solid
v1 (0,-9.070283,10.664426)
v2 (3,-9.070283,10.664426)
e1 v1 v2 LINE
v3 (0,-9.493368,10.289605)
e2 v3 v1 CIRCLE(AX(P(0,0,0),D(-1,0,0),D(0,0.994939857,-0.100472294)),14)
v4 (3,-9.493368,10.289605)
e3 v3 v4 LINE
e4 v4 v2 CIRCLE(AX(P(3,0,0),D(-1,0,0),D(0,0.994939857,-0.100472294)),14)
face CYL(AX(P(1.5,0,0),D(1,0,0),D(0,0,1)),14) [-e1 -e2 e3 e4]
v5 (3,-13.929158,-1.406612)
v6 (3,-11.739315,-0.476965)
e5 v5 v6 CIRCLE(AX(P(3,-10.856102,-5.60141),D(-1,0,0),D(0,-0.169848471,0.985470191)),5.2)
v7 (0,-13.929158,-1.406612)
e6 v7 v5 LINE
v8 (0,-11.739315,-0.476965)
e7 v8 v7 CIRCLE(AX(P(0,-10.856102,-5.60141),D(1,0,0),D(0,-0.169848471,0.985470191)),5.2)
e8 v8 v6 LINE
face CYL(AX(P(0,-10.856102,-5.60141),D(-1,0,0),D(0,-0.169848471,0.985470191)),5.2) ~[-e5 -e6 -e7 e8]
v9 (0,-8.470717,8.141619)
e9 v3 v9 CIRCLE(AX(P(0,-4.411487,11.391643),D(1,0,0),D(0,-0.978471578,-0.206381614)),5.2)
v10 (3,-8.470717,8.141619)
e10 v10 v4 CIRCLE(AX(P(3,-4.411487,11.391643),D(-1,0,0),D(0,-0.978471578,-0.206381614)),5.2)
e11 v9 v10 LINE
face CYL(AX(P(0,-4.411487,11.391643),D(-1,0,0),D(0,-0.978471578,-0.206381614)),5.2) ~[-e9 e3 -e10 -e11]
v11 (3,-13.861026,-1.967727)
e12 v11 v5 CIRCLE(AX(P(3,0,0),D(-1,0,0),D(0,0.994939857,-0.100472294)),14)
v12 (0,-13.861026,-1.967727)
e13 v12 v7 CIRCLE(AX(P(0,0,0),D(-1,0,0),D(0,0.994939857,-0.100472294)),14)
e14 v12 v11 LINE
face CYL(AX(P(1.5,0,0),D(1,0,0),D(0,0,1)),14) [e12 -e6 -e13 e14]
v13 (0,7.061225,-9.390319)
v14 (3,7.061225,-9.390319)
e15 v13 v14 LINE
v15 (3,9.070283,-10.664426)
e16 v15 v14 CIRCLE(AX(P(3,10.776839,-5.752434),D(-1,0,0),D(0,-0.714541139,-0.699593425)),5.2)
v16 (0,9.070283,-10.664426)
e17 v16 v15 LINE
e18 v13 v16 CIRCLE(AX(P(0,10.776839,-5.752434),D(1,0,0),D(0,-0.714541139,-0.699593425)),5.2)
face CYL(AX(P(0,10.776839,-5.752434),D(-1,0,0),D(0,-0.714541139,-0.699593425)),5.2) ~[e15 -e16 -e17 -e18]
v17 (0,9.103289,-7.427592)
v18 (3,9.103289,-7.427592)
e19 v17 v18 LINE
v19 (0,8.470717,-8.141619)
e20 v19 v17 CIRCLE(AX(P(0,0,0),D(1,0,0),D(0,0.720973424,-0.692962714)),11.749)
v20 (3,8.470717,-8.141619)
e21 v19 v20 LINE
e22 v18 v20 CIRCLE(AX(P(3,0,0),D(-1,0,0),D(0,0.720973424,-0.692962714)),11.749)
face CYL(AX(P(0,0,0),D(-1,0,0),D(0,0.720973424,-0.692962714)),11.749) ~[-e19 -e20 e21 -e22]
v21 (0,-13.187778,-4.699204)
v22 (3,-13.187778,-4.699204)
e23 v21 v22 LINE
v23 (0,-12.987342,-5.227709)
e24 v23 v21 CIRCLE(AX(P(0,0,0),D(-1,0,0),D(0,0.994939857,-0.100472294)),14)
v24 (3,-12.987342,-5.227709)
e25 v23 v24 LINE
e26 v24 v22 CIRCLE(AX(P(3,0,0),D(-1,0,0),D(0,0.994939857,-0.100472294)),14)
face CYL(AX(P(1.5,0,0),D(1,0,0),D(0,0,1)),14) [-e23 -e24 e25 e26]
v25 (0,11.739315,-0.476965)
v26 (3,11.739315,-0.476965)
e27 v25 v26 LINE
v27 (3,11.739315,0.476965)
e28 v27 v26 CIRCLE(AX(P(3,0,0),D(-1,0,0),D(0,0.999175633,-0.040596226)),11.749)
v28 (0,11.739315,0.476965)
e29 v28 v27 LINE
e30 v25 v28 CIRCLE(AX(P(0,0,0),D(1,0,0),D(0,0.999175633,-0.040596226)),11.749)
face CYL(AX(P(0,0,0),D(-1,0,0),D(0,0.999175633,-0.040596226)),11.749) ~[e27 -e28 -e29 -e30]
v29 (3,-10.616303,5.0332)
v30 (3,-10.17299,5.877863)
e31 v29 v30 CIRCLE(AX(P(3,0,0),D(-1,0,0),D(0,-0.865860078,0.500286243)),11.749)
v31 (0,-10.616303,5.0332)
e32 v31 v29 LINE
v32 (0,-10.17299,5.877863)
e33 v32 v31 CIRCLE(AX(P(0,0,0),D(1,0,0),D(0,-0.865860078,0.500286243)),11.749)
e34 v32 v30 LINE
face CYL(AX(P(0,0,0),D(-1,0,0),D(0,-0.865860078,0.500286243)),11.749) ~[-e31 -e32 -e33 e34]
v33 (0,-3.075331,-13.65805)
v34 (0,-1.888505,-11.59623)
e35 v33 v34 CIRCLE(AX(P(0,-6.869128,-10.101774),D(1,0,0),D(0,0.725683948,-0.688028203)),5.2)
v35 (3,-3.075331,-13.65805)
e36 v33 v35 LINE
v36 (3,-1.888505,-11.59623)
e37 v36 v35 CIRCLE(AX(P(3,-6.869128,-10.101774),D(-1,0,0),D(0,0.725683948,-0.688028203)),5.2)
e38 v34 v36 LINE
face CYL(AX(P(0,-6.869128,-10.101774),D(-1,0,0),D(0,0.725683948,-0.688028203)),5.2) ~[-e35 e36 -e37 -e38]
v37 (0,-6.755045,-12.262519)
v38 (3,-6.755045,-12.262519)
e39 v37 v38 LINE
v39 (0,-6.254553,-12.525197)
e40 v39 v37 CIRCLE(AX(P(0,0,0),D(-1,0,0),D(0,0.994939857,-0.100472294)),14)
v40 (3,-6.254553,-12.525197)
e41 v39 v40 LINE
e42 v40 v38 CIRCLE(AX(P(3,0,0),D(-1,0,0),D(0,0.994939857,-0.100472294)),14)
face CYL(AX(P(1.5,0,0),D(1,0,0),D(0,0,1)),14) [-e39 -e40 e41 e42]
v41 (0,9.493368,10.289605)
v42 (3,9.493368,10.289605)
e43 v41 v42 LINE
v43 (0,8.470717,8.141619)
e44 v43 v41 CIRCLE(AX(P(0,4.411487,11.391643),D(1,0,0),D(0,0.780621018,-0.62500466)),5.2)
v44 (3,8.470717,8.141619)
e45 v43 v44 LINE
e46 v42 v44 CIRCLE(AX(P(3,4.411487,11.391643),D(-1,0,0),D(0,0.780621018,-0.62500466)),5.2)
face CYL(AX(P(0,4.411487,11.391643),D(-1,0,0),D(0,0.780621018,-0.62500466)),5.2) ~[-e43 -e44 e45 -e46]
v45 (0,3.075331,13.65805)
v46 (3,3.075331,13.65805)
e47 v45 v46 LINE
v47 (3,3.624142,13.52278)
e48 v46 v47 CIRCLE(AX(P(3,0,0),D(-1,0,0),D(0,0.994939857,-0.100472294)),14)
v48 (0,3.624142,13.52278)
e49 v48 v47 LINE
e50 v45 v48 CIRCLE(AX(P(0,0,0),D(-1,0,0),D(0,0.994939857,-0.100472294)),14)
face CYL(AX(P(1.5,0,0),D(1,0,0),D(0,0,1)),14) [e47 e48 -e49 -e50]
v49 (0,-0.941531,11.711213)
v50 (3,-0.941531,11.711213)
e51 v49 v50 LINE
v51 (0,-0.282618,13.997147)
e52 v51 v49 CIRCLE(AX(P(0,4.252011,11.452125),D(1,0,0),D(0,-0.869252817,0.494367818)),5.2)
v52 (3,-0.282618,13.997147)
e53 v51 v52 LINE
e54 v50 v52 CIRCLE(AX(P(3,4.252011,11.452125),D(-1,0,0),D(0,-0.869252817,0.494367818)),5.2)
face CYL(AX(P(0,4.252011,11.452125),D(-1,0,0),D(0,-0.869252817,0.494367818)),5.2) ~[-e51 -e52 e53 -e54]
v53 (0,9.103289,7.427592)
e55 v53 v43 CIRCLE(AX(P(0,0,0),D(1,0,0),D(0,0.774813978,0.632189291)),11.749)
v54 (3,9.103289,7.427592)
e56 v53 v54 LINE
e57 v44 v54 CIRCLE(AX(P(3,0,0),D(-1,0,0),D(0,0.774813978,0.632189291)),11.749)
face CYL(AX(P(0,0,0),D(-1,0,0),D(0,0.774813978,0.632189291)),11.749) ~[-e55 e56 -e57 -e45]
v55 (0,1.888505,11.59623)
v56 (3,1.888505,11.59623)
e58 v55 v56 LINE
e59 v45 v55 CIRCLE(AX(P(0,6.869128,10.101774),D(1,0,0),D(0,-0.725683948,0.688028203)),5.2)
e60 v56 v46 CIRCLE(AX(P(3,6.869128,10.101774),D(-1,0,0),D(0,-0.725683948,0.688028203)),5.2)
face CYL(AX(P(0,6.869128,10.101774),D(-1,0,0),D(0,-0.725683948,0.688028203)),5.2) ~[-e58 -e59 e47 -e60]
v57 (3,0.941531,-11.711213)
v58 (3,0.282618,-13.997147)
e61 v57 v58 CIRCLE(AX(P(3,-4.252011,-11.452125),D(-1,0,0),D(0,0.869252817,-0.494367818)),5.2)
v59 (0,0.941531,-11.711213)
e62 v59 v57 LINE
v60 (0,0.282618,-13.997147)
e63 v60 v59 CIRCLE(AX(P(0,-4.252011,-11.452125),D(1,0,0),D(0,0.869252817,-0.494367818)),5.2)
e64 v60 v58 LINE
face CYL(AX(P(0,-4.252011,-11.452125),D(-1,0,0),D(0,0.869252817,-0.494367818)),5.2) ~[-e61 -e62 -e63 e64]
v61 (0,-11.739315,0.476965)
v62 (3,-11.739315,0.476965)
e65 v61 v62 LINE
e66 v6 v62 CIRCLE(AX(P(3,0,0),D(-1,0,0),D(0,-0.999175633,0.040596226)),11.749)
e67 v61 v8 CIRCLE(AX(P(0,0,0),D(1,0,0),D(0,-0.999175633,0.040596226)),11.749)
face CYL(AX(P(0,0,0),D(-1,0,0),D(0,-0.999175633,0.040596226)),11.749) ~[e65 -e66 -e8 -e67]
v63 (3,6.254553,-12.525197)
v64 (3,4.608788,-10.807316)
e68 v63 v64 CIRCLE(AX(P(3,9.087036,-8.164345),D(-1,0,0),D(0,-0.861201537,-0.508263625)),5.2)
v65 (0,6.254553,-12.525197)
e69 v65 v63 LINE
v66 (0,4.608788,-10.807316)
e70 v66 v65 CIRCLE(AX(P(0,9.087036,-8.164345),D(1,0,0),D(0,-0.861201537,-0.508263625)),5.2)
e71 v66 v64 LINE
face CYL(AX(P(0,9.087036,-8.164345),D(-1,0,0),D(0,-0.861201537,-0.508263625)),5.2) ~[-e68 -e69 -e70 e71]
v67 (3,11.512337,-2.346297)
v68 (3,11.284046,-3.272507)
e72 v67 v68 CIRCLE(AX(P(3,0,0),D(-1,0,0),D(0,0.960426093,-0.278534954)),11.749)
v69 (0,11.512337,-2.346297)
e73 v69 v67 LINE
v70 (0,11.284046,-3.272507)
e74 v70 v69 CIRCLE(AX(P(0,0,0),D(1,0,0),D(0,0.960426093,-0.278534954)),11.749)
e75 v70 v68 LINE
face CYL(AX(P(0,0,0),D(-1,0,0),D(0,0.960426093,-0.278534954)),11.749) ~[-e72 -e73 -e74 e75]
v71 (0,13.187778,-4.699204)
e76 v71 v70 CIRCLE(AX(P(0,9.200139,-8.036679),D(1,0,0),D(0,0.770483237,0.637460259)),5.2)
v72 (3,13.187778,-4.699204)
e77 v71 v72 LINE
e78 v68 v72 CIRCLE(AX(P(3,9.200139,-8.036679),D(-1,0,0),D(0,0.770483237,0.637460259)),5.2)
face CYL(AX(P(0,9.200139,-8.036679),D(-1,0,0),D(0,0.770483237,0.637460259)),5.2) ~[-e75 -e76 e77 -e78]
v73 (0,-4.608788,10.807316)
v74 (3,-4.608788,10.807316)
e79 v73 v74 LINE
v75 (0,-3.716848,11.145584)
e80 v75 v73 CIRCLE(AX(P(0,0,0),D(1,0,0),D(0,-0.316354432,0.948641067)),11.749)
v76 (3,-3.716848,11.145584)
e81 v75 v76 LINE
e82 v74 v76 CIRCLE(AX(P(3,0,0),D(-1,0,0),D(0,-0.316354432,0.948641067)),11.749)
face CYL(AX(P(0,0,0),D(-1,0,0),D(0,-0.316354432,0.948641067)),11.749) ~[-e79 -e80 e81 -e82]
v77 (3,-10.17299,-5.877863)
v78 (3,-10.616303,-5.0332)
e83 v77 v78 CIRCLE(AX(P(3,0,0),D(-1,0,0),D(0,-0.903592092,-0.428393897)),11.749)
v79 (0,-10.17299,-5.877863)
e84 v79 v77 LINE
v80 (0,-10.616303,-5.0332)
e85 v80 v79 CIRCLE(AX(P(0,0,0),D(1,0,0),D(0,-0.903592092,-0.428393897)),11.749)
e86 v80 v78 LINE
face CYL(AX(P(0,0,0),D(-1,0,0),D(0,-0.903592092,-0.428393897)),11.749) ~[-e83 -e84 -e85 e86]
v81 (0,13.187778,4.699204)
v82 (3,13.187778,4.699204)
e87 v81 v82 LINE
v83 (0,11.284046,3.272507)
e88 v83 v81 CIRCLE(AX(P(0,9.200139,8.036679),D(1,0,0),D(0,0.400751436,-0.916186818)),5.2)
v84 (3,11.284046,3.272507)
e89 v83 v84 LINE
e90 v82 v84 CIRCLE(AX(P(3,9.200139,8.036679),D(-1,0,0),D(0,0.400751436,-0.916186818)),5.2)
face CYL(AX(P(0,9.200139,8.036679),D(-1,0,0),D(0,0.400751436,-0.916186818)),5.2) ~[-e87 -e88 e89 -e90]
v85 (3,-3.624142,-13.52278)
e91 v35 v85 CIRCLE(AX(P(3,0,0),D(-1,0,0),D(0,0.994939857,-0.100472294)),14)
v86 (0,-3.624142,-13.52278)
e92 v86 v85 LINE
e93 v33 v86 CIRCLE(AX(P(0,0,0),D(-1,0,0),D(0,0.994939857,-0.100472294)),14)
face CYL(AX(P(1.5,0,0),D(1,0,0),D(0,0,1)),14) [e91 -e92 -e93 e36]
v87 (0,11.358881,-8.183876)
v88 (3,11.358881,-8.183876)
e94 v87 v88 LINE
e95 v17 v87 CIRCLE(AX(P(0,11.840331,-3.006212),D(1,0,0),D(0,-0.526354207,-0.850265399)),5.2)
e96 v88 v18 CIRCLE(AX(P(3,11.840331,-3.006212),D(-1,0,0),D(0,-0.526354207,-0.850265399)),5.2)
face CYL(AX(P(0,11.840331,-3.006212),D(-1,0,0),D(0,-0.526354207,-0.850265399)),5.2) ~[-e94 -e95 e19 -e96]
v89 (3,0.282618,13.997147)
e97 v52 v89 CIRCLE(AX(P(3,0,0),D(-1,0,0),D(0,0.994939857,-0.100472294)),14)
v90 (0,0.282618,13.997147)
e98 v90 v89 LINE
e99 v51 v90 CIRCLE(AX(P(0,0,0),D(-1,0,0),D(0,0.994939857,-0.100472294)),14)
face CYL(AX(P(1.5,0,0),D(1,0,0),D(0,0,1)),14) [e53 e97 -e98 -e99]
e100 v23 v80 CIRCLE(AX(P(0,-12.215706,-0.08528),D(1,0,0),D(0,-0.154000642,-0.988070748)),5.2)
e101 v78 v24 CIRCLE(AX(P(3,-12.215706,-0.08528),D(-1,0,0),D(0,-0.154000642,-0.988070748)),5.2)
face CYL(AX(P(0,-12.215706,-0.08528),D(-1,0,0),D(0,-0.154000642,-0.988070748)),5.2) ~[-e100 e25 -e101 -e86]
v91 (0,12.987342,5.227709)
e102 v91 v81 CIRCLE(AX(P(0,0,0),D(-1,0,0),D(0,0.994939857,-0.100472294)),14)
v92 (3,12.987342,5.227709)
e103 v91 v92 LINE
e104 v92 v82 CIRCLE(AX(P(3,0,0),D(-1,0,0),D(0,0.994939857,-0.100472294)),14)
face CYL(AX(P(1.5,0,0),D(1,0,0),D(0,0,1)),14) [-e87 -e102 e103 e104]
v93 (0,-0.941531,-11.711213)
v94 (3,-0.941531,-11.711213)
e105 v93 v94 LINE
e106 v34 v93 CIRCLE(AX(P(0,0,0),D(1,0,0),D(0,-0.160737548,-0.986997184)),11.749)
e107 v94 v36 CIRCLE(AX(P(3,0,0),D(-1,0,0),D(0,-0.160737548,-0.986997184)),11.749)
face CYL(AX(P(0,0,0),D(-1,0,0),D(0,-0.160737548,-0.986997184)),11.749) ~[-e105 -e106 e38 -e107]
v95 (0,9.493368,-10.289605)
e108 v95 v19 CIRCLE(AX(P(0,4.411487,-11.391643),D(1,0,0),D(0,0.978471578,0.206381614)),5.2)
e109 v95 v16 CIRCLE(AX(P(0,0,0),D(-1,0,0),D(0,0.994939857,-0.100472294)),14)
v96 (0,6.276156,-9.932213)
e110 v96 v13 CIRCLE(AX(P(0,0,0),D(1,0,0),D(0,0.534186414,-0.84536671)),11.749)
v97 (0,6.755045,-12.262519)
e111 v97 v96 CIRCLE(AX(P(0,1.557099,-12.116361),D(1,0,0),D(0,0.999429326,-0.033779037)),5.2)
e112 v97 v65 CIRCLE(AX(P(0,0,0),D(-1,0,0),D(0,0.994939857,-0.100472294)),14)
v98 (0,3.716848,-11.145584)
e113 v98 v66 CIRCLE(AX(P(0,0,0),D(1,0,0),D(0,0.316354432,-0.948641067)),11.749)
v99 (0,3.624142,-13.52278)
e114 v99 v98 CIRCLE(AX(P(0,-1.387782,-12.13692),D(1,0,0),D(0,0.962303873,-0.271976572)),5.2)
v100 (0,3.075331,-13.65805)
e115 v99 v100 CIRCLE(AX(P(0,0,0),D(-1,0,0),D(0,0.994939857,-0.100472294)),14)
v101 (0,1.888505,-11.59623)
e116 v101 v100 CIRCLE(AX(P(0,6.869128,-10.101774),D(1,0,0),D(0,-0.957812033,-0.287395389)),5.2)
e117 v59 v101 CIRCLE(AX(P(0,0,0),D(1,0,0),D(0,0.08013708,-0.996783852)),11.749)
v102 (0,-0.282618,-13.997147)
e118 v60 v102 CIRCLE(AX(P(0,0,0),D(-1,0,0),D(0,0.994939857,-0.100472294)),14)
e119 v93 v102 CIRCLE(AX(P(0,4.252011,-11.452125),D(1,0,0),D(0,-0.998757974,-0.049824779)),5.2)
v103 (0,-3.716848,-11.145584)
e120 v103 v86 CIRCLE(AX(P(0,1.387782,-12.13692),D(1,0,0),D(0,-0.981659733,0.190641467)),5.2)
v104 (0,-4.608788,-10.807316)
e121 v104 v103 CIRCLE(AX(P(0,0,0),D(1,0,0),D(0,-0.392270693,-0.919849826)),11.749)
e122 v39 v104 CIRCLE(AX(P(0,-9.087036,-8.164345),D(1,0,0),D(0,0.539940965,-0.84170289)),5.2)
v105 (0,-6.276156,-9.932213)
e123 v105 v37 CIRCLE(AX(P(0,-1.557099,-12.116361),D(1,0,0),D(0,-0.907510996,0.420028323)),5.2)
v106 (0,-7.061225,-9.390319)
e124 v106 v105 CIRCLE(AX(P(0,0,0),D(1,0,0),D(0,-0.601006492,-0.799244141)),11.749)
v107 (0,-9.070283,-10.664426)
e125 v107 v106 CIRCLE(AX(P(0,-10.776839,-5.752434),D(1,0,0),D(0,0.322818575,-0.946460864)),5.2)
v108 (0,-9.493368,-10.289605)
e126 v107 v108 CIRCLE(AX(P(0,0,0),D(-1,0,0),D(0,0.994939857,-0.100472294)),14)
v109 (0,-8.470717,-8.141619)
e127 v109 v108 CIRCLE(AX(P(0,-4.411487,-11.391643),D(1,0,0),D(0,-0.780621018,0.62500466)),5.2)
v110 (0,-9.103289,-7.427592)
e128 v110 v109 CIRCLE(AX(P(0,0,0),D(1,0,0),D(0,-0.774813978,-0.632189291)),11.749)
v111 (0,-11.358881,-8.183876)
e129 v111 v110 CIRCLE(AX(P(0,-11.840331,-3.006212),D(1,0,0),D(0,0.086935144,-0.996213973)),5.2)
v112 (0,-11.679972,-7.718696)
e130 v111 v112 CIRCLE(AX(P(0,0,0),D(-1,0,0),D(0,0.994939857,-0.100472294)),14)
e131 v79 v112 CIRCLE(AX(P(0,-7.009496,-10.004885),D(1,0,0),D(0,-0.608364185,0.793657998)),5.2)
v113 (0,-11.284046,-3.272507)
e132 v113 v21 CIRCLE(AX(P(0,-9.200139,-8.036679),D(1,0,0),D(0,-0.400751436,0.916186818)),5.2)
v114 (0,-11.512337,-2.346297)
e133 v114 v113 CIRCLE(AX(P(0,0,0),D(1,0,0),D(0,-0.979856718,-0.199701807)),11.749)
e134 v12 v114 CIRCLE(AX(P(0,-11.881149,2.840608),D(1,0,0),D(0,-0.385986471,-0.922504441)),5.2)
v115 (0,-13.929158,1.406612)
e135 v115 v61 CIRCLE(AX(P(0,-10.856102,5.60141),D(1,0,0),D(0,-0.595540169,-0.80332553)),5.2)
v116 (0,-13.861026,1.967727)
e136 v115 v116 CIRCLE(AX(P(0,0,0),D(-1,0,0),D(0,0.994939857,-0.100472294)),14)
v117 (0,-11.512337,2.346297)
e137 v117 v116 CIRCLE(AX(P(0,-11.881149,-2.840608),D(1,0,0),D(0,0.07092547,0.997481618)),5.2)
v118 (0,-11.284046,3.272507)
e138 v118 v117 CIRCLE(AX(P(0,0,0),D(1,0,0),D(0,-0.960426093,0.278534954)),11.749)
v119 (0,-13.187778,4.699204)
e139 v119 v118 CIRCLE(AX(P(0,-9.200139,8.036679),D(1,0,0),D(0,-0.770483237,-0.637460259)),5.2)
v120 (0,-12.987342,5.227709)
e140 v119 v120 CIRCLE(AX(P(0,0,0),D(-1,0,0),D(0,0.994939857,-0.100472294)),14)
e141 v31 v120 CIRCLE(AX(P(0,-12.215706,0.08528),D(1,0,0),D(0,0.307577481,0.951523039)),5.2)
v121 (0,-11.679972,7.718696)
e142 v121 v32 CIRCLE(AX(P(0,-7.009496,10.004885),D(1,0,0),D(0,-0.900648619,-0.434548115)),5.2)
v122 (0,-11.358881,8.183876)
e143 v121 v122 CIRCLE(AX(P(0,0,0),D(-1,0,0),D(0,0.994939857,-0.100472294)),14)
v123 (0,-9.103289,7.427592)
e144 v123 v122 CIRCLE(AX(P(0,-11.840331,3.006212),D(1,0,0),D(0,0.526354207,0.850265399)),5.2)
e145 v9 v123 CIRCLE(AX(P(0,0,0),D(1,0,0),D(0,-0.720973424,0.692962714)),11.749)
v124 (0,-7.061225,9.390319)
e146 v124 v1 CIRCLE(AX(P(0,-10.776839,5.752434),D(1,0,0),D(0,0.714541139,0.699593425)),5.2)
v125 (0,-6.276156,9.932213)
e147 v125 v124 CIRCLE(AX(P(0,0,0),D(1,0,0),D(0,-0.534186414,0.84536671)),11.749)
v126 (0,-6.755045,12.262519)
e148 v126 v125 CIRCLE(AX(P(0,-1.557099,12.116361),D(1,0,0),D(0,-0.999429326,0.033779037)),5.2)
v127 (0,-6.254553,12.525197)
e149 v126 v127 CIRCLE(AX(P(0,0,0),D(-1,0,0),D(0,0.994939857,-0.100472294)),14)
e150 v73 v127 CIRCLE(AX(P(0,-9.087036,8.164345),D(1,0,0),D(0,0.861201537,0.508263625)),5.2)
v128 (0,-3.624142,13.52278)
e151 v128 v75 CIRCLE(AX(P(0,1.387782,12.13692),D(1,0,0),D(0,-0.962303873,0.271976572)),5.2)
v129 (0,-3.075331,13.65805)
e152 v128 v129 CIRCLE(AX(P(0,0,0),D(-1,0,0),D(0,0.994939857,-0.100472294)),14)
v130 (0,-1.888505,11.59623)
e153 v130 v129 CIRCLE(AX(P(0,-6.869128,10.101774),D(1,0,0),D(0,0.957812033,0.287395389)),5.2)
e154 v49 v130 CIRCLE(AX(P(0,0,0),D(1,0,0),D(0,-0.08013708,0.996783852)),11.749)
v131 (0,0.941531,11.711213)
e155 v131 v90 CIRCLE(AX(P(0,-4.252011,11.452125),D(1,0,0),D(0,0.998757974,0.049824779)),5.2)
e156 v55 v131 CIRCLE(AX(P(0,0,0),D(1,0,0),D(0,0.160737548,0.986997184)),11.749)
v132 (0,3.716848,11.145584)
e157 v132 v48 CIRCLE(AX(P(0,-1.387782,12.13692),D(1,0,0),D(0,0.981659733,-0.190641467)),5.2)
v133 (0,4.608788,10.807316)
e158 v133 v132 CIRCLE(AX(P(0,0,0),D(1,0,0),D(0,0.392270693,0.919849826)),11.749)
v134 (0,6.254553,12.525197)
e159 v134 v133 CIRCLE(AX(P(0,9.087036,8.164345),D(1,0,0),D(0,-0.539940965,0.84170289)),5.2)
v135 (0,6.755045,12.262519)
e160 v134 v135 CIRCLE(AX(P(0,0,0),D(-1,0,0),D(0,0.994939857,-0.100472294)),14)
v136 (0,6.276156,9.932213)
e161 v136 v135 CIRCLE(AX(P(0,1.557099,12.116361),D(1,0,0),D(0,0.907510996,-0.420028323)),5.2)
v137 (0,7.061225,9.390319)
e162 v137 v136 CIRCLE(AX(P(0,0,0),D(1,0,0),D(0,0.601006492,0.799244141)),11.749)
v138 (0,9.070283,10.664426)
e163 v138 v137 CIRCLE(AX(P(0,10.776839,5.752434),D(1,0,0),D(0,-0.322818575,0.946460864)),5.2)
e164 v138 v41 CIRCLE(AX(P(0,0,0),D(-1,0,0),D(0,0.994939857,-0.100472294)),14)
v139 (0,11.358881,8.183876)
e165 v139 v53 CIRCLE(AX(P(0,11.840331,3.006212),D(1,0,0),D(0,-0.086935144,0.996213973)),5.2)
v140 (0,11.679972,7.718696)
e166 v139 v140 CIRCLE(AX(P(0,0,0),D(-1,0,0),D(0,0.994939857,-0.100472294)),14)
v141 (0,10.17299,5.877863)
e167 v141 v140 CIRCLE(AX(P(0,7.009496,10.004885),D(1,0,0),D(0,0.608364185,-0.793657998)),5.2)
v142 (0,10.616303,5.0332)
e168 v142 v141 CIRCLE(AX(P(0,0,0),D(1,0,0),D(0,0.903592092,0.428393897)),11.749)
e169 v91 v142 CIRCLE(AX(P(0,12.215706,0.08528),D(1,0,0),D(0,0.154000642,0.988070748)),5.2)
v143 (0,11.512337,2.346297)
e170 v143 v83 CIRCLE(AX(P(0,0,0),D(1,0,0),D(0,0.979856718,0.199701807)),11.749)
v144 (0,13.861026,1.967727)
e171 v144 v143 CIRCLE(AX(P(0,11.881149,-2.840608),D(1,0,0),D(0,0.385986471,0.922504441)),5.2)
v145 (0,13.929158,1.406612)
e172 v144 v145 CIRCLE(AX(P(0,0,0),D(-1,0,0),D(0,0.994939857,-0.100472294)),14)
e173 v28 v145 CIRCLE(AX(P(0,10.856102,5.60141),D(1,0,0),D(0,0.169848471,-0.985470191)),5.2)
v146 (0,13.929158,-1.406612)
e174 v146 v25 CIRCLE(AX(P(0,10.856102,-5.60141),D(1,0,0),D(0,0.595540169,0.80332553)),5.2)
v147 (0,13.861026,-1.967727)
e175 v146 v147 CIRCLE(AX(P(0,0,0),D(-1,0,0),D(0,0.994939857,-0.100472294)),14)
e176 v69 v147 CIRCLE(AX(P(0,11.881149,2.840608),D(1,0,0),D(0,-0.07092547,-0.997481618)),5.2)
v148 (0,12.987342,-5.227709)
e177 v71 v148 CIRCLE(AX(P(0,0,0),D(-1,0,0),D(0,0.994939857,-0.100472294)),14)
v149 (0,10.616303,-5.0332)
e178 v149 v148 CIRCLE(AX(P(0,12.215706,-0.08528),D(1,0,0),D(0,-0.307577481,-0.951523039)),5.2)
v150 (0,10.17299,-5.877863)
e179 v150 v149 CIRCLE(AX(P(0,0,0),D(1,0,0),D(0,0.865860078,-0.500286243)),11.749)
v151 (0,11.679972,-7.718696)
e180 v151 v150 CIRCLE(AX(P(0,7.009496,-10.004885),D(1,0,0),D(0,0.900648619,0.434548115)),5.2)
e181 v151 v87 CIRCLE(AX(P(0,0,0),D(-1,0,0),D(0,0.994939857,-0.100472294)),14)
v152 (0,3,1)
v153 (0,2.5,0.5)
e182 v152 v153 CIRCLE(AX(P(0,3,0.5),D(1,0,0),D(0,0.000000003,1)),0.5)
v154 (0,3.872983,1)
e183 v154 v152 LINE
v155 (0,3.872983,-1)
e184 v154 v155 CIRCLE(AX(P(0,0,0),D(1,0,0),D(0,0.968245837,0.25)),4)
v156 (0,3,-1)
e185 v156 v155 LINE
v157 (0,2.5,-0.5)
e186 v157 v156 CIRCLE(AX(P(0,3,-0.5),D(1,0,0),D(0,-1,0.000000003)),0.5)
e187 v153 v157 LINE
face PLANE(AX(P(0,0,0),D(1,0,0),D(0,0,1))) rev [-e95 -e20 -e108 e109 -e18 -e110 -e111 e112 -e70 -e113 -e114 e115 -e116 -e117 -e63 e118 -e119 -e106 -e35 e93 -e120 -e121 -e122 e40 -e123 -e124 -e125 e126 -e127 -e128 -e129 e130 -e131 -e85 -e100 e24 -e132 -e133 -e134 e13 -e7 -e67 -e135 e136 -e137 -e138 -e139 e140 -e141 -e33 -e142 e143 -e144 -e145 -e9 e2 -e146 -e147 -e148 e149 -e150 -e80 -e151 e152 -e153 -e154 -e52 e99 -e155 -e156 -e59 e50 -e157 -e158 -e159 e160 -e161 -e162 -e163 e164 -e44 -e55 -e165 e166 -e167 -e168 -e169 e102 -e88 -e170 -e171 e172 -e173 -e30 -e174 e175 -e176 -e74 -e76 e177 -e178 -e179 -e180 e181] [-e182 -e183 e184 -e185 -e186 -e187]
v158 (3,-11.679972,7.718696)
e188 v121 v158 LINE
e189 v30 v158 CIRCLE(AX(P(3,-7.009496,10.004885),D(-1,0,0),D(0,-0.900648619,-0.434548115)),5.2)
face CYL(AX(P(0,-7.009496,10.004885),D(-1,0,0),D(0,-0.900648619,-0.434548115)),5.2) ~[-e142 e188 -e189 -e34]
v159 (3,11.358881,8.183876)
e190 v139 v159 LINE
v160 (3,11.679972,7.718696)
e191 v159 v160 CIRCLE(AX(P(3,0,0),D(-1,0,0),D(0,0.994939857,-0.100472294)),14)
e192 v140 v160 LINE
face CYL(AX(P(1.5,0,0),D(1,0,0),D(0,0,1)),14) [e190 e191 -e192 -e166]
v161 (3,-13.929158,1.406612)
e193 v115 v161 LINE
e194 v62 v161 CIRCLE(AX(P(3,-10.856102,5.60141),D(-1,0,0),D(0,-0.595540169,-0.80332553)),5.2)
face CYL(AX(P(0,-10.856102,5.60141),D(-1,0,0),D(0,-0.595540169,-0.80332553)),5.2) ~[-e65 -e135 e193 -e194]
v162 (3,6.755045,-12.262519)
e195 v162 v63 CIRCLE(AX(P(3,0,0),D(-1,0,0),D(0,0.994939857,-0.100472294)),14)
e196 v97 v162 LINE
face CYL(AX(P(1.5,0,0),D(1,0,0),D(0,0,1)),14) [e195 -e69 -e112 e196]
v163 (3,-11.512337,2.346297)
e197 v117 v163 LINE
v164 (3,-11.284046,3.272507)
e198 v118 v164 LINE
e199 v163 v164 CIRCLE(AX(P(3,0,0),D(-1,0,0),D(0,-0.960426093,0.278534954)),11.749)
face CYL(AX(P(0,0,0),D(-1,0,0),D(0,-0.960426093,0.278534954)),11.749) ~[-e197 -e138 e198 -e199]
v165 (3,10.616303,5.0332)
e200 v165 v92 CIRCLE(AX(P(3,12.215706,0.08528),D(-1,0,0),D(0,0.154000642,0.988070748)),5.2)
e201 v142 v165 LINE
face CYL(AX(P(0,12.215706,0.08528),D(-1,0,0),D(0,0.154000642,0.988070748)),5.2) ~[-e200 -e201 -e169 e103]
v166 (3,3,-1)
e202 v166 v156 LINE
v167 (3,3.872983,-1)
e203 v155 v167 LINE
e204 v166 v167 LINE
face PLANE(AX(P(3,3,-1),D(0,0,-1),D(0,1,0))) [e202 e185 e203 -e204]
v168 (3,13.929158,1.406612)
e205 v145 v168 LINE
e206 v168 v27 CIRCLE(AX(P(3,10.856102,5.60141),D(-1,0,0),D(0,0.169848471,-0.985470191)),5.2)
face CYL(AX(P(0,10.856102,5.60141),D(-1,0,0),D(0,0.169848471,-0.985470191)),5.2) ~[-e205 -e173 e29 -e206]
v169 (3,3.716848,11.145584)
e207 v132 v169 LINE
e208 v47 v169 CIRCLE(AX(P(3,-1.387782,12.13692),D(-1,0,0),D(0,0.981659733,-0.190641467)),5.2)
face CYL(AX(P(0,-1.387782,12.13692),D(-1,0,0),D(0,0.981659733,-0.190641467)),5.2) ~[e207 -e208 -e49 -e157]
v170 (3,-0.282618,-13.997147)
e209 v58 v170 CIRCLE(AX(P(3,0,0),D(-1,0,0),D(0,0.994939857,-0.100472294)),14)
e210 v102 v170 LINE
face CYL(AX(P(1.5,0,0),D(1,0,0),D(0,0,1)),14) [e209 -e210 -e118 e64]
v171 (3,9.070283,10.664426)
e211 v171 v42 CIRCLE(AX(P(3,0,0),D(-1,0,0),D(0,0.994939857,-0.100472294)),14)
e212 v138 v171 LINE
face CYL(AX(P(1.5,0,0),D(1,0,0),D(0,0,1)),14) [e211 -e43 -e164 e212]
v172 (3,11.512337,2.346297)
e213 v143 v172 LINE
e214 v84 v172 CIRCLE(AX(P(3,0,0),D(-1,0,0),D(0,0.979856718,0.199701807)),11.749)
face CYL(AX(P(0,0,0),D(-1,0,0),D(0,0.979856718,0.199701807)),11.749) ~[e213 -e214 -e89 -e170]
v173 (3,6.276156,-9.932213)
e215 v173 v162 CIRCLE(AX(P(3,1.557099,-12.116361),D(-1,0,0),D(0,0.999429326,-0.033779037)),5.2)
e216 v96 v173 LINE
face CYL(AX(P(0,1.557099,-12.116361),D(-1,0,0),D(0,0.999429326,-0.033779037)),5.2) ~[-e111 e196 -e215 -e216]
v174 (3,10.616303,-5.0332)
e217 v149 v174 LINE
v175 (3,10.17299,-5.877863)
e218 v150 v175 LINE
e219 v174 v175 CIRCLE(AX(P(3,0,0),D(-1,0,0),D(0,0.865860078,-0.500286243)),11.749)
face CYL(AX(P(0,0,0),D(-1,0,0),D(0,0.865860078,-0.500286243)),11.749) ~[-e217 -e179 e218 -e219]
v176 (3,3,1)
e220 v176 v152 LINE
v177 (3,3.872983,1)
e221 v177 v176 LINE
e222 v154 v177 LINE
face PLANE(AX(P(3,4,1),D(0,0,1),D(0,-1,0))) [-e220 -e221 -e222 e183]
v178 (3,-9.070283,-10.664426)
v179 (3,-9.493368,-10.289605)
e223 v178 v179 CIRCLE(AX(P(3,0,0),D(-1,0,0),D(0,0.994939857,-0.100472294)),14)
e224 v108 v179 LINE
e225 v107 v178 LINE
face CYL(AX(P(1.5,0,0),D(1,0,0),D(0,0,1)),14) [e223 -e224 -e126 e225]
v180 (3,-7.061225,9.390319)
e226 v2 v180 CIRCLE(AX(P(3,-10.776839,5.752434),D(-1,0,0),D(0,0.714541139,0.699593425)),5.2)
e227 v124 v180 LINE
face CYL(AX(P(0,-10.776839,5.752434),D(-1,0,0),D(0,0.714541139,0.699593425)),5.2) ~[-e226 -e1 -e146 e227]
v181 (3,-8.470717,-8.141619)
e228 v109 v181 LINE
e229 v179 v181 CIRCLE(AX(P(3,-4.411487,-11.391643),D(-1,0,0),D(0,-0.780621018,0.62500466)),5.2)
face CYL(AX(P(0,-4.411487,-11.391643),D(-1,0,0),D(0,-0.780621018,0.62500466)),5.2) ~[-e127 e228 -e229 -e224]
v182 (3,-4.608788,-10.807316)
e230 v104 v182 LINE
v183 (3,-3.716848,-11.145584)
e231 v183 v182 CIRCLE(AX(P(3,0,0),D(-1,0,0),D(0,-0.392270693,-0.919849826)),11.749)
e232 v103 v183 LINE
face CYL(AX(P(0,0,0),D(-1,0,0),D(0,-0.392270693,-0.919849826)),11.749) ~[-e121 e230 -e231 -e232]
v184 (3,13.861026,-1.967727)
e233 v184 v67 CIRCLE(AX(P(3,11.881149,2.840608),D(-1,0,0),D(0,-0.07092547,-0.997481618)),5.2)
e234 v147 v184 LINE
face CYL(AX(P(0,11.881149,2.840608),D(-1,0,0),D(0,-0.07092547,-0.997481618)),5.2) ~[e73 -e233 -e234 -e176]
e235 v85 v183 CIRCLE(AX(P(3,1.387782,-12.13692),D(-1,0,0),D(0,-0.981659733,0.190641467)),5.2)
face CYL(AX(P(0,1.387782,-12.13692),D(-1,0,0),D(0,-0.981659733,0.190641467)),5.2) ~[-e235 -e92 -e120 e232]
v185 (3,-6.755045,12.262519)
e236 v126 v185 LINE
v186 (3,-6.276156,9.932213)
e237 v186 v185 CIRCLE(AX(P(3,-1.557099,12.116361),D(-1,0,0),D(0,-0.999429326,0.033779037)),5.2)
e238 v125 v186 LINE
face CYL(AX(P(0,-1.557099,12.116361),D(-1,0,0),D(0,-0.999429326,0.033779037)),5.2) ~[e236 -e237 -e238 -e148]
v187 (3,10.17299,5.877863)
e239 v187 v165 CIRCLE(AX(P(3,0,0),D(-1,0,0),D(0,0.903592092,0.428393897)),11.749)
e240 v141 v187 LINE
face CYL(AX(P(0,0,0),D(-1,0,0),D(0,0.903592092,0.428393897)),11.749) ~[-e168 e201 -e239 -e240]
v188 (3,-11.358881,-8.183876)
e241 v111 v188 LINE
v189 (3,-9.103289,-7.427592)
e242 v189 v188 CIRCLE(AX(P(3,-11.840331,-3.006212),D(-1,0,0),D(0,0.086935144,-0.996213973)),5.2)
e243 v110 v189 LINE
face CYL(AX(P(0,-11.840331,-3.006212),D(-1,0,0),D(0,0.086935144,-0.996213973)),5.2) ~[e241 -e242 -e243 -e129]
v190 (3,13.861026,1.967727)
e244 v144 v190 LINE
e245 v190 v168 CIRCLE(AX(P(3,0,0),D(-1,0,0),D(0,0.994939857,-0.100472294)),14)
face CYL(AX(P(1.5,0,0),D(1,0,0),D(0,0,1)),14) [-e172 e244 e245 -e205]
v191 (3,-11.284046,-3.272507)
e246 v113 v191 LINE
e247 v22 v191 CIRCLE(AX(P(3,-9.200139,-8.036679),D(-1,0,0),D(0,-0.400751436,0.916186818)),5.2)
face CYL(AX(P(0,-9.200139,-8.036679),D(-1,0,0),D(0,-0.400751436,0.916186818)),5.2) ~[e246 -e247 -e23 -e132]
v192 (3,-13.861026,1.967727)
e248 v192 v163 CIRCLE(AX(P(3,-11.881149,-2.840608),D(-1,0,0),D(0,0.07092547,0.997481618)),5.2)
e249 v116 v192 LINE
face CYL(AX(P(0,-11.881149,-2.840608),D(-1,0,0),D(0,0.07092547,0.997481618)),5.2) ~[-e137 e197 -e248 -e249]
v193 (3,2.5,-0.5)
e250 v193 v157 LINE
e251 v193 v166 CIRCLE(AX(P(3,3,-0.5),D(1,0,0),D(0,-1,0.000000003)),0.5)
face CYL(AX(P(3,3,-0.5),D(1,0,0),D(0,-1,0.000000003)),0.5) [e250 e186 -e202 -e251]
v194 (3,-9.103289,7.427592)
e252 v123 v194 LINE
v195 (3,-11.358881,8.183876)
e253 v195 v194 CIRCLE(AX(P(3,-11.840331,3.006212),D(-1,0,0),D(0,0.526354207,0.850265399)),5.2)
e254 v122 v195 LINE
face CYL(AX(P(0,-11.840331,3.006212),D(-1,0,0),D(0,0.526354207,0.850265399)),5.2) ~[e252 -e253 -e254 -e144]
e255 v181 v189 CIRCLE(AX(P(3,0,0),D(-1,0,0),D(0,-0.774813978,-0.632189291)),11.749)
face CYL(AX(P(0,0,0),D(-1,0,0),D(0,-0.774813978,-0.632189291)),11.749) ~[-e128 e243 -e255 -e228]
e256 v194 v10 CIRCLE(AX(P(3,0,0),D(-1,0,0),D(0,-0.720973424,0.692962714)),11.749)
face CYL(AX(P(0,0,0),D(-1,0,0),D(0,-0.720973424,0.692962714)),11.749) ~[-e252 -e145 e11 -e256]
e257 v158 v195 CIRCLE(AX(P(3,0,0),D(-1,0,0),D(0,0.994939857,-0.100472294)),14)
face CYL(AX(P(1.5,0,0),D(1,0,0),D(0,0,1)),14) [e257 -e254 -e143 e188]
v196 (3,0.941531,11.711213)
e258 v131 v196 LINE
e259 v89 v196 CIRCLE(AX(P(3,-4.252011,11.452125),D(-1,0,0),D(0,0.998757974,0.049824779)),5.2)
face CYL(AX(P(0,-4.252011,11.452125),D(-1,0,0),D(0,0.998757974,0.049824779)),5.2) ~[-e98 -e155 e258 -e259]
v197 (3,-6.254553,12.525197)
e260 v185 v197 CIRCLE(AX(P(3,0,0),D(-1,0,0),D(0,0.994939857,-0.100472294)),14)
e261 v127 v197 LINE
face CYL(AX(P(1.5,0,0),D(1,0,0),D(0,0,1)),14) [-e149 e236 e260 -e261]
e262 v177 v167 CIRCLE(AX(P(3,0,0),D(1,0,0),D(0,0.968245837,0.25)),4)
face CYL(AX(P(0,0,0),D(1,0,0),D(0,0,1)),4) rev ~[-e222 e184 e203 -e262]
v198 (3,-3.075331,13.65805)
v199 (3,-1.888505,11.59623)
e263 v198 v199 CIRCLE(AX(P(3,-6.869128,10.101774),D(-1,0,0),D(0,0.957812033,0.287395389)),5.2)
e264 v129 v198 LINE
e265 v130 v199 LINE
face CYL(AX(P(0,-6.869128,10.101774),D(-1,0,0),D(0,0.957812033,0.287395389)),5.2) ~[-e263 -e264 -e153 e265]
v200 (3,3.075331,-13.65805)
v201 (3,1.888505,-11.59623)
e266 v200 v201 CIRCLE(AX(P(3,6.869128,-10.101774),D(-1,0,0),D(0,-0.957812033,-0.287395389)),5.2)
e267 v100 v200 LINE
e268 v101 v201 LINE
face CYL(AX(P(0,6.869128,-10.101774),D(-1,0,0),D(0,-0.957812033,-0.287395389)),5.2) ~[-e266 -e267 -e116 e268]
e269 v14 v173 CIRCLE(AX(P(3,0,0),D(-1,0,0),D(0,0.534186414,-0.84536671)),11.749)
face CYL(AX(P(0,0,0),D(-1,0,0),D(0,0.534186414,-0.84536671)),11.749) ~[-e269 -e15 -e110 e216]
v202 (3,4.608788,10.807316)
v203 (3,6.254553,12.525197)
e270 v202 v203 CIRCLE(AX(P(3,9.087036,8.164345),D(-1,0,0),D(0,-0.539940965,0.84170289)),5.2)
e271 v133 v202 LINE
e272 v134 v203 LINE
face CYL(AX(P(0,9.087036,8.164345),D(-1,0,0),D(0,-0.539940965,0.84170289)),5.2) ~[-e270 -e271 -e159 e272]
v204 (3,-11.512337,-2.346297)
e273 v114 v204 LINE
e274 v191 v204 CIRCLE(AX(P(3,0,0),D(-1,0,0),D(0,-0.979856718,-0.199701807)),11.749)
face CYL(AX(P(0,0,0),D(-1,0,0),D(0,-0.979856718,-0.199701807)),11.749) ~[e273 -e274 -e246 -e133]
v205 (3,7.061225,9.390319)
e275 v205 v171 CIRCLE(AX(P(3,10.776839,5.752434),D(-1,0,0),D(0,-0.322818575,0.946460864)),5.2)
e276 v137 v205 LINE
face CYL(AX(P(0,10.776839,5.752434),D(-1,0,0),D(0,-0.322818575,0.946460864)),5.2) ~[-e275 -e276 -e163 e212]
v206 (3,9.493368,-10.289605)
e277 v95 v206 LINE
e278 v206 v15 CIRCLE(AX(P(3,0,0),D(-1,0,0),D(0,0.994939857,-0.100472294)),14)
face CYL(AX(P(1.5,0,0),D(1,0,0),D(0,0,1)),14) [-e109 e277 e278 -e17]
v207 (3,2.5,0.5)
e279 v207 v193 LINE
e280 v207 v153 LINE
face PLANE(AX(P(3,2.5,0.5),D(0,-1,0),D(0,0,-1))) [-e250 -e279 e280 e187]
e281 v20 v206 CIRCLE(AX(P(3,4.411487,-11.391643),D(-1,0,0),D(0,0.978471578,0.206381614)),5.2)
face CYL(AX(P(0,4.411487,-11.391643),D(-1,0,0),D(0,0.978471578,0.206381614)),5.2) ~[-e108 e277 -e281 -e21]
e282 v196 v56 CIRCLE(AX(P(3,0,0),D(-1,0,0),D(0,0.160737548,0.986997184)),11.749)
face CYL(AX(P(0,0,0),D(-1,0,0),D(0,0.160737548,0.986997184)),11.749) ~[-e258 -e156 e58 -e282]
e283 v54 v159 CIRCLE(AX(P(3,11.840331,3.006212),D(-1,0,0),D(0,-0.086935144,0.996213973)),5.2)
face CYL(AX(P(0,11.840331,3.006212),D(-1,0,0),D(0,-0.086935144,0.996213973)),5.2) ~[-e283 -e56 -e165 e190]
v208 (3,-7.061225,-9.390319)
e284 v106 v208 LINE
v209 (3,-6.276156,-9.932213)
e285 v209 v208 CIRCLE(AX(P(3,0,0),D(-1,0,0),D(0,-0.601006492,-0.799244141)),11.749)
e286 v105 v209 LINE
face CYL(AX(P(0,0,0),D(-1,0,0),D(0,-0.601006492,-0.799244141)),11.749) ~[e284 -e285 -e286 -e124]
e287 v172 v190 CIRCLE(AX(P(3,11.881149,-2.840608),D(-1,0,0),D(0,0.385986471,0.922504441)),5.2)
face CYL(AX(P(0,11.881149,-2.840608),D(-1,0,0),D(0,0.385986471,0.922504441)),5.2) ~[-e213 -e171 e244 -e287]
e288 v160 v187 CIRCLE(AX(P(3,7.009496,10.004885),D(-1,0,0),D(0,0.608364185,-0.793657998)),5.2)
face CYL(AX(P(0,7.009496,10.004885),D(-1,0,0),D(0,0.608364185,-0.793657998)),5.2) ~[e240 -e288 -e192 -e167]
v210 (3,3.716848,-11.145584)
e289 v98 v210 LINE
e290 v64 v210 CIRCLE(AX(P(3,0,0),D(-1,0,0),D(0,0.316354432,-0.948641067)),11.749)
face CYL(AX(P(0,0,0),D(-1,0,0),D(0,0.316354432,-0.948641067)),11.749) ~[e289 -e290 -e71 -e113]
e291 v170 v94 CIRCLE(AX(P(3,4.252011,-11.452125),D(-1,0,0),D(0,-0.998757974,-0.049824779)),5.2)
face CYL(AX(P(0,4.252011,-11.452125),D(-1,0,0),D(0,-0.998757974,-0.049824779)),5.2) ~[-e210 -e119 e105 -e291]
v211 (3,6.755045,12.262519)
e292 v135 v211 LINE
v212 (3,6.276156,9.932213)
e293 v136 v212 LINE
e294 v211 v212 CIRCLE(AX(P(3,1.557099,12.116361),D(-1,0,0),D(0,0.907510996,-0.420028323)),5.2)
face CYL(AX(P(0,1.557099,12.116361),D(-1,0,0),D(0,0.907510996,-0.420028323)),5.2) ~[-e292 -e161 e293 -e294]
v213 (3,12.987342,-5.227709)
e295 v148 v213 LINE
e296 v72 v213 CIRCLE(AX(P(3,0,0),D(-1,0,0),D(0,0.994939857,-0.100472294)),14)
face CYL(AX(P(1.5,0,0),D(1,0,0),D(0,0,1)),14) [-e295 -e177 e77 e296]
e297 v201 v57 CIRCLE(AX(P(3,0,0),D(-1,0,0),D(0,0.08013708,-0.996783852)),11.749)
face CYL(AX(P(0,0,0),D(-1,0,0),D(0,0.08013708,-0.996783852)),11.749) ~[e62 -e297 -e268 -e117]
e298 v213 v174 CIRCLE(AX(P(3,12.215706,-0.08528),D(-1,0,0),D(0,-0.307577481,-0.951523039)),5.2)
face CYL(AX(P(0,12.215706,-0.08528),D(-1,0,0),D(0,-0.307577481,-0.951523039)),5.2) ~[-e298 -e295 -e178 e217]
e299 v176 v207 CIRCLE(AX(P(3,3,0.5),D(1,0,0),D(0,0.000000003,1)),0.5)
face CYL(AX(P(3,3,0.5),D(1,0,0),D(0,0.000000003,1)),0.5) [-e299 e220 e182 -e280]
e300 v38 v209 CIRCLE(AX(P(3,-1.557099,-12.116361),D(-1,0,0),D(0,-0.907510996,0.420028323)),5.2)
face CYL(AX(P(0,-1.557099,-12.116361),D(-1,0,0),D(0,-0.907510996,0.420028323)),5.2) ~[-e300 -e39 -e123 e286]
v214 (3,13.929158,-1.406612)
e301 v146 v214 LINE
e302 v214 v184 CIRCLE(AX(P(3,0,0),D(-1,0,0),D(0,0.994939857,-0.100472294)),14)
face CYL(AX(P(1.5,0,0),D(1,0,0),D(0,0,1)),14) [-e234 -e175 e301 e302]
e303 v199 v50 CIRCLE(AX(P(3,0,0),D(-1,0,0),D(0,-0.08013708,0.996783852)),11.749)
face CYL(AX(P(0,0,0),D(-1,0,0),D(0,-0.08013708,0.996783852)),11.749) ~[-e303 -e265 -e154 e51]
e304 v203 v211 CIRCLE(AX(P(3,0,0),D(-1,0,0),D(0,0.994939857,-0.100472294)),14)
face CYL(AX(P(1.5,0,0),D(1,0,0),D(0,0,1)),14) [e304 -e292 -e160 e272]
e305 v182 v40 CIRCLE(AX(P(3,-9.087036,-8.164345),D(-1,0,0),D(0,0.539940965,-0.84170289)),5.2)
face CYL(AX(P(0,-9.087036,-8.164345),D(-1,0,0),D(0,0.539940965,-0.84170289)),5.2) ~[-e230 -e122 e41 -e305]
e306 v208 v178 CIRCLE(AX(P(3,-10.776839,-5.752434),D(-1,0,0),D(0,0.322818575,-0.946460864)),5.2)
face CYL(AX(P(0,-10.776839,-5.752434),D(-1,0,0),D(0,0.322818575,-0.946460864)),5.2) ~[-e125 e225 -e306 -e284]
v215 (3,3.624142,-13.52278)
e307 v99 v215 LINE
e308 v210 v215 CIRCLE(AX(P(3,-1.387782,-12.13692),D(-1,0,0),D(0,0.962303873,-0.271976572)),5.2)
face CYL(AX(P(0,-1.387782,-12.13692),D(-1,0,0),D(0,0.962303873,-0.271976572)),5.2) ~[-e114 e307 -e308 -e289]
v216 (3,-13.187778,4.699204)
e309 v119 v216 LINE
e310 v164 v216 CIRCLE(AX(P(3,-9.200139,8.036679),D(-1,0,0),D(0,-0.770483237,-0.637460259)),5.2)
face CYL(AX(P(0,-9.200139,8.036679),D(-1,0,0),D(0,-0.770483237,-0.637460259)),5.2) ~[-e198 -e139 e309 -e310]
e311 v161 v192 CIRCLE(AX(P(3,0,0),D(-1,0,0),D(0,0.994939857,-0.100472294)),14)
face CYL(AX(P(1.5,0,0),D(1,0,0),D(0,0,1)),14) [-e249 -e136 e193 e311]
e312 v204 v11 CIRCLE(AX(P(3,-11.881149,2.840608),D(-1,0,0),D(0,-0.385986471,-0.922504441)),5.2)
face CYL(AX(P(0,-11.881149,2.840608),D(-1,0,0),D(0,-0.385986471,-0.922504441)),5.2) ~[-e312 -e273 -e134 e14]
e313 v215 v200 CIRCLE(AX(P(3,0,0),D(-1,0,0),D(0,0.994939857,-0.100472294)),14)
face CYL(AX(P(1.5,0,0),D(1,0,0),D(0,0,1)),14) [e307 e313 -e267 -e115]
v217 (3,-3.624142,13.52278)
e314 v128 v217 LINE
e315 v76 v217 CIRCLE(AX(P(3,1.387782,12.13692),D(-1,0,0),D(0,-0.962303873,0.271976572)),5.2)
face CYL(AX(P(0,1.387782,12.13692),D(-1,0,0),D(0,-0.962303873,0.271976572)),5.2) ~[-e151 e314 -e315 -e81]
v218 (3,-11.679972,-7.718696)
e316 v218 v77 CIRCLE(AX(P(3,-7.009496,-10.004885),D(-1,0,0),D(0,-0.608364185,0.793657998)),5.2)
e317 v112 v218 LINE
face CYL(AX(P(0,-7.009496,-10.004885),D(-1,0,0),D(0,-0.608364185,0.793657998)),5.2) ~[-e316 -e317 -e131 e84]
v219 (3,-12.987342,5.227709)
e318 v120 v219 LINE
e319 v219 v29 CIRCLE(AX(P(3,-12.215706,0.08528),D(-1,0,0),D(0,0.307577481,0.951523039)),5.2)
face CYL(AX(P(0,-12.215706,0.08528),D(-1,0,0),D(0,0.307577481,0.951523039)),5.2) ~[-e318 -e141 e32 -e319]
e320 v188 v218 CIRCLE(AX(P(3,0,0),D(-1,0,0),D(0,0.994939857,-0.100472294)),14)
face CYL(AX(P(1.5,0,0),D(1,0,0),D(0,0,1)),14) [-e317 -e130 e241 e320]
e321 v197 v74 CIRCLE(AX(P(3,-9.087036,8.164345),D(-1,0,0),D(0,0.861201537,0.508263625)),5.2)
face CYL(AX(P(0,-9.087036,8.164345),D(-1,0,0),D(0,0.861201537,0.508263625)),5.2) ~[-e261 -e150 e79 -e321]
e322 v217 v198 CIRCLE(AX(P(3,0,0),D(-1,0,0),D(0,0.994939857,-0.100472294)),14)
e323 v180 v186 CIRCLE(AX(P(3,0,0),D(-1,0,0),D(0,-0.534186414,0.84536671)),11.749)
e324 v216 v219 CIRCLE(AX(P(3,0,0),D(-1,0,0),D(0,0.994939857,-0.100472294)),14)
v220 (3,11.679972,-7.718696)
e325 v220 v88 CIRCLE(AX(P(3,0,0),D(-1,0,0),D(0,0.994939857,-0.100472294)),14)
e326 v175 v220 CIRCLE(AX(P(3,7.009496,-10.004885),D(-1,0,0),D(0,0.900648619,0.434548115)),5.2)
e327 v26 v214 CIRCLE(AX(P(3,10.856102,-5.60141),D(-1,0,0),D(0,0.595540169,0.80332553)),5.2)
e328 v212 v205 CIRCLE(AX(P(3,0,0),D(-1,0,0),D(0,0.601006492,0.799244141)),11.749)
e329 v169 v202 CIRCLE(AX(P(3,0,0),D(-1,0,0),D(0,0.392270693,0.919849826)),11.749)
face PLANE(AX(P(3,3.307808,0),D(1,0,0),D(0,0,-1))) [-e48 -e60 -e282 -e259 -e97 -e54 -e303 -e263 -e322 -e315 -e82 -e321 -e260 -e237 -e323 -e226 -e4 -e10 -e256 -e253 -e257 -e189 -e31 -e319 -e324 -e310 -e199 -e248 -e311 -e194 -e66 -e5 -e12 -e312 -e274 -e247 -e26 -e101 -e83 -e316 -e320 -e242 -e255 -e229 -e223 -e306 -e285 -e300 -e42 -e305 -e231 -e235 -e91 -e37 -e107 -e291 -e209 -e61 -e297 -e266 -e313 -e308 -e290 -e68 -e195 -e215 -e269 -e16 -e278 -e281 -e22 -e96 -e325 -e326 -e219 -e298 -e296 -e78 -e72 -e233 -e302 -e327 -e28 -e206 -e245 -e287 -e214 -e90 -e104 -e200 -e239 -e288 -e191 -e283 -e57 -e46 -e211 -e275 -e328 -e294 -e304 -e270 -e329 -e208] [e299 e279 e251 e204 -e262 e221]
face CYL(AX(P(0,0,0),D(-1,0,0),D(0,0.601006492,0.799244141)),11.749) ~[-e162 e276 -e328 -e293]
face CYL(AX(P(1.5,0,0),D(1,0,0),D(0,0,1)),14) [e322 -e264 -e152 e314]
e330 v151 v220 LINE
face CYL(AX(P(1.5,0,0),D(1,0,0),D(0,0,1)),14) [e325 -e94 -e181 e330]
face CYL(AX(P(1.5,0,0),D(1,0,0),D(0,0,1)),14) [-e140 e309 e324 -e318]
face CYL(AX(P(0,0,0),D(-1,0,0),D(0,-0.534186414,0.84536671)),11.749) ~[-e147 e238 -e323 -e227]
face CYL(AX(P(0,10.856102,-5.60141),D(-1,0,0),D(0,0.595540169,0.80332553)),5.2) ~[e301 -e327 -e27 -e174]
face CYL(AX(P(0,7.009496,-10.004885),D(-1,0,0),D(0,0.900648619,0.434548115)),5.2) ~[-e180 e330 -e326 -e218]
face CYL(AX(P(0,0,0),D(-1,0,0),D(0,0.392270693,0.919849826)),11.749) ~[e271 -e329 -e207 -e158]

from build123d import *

# Parameters (mm, degrees)
BASPROSKE_W                 = 3
BASPROSKE_H                 = 14
TOOTHCUT_DEPTH              = 21.024984395
TEETHCUTS_COUNT             = 26
TEETHCUTS_ANGLE             = 346.153846154
BORSKE_R                    = 4
BORE_DEPTH                  = 50.0000508
DODANIE_WYCI_GNI_CIE1_DEPTH = 3


with BuildPart() as part:
    # BasProSke → Base-Revolve (revolve)
    with BuildSketch(Plane(origin=(0, 0, 0), x_dir=(1, 0, 0), z_dir=(0, 1, 0)), mode=Mode.PRIVATE) as base_revolve_sk:
        with Locations((1.5, 7)):
            Rectangle(BASPROSKE_W, BASPROSKE_H)
    revolve(base_revolve_sk.sketch.rotate(Axis((-10, 0, 0), (1, 0, 0)), 180), axis=Axis((-10, 0, 0), (1, 0, 0)))

    # TooCutSke → ToothCut (cut, through all)
    with BuildSketch(Plane(origin=(0, 0, 0), x_dir=(0, 0, -1), z_dir=(1, 0, 0))):
        with BuildLine():
            ThreePointArc((0.476965065, 11.739314517), (0, 11.749), (-0.476965065, 11.739314517))
            ThreePointArc((-0.476965065, 11.739314517), (-0.82065865, 12.901686978), (-1.424117301, 13.952911348))
            ThreePointArc((-1.424117301, 13.952911348), (0, 14.0254), (1.424117301, 13.952911348))
            ThreePointArc((1.424117301, 13.952911348), (0.82065865, 12.901686978), (0.476965065, 11.739314517))
        make_face()
    toothcut = extrude(amount=TOOTHCUT_DEPTH, mode=Mode.SUBTRACT)

    # TeethCuts: ToothCut ×26 about axis
    teethcuts_axis = Axis((-10, 0, 0), (1, 0, 0))
    for i in range(1, TEETHCUTS_COUNT):
        add(toothcut.rotate(teethcuts_axis, i * TEETHCUTS_ANGLE / (TEETHCUTS_COUNT - 1)), mode=Mode.SUBTRACT)

    # BorSke → Bore (cut, symmetric)
    with BuildSketch(Plane(origin=(0, 0, 0), x_dir=(0, 0, -1), z_dir=(1, 0, 0))):
        with Locations(Location((0, 0, 0), (0, 0, 180))):
            Circle(BORSKE_R)
    extrude(amount=BORE_DEPTH, both=True, mode=Mode.SUBTRACT)

    # Szkic1 → Dodanie-wyciągnięcie1 (add)
    with BuildSketch(Plane(origin=(3, 0, 0), x_dir=(0, 0, -1), z_dir=(1, 0, 0))):
        with BuildLine():
            Line((0, 4), (-1, 4))
            Line((-1, 4), (-1, 3))
            ThreePointArc((-1, 3), (-0.853553391, 2.646446609), (-0.5, 2.5))
            Line((-0.5, 2.5), (0.5, 2.5))
            ThreePointArc((0.5, 2.5), (0.853553391, 2.646446609), (1, 3))
            Line((1, 3), (1, 4))
            Line((1, 4), (0, 4))
        make_face()
    extrude(amount=-DODANIE_WYCI_GNI_CIE1_DEPTH)


solid = part.part
